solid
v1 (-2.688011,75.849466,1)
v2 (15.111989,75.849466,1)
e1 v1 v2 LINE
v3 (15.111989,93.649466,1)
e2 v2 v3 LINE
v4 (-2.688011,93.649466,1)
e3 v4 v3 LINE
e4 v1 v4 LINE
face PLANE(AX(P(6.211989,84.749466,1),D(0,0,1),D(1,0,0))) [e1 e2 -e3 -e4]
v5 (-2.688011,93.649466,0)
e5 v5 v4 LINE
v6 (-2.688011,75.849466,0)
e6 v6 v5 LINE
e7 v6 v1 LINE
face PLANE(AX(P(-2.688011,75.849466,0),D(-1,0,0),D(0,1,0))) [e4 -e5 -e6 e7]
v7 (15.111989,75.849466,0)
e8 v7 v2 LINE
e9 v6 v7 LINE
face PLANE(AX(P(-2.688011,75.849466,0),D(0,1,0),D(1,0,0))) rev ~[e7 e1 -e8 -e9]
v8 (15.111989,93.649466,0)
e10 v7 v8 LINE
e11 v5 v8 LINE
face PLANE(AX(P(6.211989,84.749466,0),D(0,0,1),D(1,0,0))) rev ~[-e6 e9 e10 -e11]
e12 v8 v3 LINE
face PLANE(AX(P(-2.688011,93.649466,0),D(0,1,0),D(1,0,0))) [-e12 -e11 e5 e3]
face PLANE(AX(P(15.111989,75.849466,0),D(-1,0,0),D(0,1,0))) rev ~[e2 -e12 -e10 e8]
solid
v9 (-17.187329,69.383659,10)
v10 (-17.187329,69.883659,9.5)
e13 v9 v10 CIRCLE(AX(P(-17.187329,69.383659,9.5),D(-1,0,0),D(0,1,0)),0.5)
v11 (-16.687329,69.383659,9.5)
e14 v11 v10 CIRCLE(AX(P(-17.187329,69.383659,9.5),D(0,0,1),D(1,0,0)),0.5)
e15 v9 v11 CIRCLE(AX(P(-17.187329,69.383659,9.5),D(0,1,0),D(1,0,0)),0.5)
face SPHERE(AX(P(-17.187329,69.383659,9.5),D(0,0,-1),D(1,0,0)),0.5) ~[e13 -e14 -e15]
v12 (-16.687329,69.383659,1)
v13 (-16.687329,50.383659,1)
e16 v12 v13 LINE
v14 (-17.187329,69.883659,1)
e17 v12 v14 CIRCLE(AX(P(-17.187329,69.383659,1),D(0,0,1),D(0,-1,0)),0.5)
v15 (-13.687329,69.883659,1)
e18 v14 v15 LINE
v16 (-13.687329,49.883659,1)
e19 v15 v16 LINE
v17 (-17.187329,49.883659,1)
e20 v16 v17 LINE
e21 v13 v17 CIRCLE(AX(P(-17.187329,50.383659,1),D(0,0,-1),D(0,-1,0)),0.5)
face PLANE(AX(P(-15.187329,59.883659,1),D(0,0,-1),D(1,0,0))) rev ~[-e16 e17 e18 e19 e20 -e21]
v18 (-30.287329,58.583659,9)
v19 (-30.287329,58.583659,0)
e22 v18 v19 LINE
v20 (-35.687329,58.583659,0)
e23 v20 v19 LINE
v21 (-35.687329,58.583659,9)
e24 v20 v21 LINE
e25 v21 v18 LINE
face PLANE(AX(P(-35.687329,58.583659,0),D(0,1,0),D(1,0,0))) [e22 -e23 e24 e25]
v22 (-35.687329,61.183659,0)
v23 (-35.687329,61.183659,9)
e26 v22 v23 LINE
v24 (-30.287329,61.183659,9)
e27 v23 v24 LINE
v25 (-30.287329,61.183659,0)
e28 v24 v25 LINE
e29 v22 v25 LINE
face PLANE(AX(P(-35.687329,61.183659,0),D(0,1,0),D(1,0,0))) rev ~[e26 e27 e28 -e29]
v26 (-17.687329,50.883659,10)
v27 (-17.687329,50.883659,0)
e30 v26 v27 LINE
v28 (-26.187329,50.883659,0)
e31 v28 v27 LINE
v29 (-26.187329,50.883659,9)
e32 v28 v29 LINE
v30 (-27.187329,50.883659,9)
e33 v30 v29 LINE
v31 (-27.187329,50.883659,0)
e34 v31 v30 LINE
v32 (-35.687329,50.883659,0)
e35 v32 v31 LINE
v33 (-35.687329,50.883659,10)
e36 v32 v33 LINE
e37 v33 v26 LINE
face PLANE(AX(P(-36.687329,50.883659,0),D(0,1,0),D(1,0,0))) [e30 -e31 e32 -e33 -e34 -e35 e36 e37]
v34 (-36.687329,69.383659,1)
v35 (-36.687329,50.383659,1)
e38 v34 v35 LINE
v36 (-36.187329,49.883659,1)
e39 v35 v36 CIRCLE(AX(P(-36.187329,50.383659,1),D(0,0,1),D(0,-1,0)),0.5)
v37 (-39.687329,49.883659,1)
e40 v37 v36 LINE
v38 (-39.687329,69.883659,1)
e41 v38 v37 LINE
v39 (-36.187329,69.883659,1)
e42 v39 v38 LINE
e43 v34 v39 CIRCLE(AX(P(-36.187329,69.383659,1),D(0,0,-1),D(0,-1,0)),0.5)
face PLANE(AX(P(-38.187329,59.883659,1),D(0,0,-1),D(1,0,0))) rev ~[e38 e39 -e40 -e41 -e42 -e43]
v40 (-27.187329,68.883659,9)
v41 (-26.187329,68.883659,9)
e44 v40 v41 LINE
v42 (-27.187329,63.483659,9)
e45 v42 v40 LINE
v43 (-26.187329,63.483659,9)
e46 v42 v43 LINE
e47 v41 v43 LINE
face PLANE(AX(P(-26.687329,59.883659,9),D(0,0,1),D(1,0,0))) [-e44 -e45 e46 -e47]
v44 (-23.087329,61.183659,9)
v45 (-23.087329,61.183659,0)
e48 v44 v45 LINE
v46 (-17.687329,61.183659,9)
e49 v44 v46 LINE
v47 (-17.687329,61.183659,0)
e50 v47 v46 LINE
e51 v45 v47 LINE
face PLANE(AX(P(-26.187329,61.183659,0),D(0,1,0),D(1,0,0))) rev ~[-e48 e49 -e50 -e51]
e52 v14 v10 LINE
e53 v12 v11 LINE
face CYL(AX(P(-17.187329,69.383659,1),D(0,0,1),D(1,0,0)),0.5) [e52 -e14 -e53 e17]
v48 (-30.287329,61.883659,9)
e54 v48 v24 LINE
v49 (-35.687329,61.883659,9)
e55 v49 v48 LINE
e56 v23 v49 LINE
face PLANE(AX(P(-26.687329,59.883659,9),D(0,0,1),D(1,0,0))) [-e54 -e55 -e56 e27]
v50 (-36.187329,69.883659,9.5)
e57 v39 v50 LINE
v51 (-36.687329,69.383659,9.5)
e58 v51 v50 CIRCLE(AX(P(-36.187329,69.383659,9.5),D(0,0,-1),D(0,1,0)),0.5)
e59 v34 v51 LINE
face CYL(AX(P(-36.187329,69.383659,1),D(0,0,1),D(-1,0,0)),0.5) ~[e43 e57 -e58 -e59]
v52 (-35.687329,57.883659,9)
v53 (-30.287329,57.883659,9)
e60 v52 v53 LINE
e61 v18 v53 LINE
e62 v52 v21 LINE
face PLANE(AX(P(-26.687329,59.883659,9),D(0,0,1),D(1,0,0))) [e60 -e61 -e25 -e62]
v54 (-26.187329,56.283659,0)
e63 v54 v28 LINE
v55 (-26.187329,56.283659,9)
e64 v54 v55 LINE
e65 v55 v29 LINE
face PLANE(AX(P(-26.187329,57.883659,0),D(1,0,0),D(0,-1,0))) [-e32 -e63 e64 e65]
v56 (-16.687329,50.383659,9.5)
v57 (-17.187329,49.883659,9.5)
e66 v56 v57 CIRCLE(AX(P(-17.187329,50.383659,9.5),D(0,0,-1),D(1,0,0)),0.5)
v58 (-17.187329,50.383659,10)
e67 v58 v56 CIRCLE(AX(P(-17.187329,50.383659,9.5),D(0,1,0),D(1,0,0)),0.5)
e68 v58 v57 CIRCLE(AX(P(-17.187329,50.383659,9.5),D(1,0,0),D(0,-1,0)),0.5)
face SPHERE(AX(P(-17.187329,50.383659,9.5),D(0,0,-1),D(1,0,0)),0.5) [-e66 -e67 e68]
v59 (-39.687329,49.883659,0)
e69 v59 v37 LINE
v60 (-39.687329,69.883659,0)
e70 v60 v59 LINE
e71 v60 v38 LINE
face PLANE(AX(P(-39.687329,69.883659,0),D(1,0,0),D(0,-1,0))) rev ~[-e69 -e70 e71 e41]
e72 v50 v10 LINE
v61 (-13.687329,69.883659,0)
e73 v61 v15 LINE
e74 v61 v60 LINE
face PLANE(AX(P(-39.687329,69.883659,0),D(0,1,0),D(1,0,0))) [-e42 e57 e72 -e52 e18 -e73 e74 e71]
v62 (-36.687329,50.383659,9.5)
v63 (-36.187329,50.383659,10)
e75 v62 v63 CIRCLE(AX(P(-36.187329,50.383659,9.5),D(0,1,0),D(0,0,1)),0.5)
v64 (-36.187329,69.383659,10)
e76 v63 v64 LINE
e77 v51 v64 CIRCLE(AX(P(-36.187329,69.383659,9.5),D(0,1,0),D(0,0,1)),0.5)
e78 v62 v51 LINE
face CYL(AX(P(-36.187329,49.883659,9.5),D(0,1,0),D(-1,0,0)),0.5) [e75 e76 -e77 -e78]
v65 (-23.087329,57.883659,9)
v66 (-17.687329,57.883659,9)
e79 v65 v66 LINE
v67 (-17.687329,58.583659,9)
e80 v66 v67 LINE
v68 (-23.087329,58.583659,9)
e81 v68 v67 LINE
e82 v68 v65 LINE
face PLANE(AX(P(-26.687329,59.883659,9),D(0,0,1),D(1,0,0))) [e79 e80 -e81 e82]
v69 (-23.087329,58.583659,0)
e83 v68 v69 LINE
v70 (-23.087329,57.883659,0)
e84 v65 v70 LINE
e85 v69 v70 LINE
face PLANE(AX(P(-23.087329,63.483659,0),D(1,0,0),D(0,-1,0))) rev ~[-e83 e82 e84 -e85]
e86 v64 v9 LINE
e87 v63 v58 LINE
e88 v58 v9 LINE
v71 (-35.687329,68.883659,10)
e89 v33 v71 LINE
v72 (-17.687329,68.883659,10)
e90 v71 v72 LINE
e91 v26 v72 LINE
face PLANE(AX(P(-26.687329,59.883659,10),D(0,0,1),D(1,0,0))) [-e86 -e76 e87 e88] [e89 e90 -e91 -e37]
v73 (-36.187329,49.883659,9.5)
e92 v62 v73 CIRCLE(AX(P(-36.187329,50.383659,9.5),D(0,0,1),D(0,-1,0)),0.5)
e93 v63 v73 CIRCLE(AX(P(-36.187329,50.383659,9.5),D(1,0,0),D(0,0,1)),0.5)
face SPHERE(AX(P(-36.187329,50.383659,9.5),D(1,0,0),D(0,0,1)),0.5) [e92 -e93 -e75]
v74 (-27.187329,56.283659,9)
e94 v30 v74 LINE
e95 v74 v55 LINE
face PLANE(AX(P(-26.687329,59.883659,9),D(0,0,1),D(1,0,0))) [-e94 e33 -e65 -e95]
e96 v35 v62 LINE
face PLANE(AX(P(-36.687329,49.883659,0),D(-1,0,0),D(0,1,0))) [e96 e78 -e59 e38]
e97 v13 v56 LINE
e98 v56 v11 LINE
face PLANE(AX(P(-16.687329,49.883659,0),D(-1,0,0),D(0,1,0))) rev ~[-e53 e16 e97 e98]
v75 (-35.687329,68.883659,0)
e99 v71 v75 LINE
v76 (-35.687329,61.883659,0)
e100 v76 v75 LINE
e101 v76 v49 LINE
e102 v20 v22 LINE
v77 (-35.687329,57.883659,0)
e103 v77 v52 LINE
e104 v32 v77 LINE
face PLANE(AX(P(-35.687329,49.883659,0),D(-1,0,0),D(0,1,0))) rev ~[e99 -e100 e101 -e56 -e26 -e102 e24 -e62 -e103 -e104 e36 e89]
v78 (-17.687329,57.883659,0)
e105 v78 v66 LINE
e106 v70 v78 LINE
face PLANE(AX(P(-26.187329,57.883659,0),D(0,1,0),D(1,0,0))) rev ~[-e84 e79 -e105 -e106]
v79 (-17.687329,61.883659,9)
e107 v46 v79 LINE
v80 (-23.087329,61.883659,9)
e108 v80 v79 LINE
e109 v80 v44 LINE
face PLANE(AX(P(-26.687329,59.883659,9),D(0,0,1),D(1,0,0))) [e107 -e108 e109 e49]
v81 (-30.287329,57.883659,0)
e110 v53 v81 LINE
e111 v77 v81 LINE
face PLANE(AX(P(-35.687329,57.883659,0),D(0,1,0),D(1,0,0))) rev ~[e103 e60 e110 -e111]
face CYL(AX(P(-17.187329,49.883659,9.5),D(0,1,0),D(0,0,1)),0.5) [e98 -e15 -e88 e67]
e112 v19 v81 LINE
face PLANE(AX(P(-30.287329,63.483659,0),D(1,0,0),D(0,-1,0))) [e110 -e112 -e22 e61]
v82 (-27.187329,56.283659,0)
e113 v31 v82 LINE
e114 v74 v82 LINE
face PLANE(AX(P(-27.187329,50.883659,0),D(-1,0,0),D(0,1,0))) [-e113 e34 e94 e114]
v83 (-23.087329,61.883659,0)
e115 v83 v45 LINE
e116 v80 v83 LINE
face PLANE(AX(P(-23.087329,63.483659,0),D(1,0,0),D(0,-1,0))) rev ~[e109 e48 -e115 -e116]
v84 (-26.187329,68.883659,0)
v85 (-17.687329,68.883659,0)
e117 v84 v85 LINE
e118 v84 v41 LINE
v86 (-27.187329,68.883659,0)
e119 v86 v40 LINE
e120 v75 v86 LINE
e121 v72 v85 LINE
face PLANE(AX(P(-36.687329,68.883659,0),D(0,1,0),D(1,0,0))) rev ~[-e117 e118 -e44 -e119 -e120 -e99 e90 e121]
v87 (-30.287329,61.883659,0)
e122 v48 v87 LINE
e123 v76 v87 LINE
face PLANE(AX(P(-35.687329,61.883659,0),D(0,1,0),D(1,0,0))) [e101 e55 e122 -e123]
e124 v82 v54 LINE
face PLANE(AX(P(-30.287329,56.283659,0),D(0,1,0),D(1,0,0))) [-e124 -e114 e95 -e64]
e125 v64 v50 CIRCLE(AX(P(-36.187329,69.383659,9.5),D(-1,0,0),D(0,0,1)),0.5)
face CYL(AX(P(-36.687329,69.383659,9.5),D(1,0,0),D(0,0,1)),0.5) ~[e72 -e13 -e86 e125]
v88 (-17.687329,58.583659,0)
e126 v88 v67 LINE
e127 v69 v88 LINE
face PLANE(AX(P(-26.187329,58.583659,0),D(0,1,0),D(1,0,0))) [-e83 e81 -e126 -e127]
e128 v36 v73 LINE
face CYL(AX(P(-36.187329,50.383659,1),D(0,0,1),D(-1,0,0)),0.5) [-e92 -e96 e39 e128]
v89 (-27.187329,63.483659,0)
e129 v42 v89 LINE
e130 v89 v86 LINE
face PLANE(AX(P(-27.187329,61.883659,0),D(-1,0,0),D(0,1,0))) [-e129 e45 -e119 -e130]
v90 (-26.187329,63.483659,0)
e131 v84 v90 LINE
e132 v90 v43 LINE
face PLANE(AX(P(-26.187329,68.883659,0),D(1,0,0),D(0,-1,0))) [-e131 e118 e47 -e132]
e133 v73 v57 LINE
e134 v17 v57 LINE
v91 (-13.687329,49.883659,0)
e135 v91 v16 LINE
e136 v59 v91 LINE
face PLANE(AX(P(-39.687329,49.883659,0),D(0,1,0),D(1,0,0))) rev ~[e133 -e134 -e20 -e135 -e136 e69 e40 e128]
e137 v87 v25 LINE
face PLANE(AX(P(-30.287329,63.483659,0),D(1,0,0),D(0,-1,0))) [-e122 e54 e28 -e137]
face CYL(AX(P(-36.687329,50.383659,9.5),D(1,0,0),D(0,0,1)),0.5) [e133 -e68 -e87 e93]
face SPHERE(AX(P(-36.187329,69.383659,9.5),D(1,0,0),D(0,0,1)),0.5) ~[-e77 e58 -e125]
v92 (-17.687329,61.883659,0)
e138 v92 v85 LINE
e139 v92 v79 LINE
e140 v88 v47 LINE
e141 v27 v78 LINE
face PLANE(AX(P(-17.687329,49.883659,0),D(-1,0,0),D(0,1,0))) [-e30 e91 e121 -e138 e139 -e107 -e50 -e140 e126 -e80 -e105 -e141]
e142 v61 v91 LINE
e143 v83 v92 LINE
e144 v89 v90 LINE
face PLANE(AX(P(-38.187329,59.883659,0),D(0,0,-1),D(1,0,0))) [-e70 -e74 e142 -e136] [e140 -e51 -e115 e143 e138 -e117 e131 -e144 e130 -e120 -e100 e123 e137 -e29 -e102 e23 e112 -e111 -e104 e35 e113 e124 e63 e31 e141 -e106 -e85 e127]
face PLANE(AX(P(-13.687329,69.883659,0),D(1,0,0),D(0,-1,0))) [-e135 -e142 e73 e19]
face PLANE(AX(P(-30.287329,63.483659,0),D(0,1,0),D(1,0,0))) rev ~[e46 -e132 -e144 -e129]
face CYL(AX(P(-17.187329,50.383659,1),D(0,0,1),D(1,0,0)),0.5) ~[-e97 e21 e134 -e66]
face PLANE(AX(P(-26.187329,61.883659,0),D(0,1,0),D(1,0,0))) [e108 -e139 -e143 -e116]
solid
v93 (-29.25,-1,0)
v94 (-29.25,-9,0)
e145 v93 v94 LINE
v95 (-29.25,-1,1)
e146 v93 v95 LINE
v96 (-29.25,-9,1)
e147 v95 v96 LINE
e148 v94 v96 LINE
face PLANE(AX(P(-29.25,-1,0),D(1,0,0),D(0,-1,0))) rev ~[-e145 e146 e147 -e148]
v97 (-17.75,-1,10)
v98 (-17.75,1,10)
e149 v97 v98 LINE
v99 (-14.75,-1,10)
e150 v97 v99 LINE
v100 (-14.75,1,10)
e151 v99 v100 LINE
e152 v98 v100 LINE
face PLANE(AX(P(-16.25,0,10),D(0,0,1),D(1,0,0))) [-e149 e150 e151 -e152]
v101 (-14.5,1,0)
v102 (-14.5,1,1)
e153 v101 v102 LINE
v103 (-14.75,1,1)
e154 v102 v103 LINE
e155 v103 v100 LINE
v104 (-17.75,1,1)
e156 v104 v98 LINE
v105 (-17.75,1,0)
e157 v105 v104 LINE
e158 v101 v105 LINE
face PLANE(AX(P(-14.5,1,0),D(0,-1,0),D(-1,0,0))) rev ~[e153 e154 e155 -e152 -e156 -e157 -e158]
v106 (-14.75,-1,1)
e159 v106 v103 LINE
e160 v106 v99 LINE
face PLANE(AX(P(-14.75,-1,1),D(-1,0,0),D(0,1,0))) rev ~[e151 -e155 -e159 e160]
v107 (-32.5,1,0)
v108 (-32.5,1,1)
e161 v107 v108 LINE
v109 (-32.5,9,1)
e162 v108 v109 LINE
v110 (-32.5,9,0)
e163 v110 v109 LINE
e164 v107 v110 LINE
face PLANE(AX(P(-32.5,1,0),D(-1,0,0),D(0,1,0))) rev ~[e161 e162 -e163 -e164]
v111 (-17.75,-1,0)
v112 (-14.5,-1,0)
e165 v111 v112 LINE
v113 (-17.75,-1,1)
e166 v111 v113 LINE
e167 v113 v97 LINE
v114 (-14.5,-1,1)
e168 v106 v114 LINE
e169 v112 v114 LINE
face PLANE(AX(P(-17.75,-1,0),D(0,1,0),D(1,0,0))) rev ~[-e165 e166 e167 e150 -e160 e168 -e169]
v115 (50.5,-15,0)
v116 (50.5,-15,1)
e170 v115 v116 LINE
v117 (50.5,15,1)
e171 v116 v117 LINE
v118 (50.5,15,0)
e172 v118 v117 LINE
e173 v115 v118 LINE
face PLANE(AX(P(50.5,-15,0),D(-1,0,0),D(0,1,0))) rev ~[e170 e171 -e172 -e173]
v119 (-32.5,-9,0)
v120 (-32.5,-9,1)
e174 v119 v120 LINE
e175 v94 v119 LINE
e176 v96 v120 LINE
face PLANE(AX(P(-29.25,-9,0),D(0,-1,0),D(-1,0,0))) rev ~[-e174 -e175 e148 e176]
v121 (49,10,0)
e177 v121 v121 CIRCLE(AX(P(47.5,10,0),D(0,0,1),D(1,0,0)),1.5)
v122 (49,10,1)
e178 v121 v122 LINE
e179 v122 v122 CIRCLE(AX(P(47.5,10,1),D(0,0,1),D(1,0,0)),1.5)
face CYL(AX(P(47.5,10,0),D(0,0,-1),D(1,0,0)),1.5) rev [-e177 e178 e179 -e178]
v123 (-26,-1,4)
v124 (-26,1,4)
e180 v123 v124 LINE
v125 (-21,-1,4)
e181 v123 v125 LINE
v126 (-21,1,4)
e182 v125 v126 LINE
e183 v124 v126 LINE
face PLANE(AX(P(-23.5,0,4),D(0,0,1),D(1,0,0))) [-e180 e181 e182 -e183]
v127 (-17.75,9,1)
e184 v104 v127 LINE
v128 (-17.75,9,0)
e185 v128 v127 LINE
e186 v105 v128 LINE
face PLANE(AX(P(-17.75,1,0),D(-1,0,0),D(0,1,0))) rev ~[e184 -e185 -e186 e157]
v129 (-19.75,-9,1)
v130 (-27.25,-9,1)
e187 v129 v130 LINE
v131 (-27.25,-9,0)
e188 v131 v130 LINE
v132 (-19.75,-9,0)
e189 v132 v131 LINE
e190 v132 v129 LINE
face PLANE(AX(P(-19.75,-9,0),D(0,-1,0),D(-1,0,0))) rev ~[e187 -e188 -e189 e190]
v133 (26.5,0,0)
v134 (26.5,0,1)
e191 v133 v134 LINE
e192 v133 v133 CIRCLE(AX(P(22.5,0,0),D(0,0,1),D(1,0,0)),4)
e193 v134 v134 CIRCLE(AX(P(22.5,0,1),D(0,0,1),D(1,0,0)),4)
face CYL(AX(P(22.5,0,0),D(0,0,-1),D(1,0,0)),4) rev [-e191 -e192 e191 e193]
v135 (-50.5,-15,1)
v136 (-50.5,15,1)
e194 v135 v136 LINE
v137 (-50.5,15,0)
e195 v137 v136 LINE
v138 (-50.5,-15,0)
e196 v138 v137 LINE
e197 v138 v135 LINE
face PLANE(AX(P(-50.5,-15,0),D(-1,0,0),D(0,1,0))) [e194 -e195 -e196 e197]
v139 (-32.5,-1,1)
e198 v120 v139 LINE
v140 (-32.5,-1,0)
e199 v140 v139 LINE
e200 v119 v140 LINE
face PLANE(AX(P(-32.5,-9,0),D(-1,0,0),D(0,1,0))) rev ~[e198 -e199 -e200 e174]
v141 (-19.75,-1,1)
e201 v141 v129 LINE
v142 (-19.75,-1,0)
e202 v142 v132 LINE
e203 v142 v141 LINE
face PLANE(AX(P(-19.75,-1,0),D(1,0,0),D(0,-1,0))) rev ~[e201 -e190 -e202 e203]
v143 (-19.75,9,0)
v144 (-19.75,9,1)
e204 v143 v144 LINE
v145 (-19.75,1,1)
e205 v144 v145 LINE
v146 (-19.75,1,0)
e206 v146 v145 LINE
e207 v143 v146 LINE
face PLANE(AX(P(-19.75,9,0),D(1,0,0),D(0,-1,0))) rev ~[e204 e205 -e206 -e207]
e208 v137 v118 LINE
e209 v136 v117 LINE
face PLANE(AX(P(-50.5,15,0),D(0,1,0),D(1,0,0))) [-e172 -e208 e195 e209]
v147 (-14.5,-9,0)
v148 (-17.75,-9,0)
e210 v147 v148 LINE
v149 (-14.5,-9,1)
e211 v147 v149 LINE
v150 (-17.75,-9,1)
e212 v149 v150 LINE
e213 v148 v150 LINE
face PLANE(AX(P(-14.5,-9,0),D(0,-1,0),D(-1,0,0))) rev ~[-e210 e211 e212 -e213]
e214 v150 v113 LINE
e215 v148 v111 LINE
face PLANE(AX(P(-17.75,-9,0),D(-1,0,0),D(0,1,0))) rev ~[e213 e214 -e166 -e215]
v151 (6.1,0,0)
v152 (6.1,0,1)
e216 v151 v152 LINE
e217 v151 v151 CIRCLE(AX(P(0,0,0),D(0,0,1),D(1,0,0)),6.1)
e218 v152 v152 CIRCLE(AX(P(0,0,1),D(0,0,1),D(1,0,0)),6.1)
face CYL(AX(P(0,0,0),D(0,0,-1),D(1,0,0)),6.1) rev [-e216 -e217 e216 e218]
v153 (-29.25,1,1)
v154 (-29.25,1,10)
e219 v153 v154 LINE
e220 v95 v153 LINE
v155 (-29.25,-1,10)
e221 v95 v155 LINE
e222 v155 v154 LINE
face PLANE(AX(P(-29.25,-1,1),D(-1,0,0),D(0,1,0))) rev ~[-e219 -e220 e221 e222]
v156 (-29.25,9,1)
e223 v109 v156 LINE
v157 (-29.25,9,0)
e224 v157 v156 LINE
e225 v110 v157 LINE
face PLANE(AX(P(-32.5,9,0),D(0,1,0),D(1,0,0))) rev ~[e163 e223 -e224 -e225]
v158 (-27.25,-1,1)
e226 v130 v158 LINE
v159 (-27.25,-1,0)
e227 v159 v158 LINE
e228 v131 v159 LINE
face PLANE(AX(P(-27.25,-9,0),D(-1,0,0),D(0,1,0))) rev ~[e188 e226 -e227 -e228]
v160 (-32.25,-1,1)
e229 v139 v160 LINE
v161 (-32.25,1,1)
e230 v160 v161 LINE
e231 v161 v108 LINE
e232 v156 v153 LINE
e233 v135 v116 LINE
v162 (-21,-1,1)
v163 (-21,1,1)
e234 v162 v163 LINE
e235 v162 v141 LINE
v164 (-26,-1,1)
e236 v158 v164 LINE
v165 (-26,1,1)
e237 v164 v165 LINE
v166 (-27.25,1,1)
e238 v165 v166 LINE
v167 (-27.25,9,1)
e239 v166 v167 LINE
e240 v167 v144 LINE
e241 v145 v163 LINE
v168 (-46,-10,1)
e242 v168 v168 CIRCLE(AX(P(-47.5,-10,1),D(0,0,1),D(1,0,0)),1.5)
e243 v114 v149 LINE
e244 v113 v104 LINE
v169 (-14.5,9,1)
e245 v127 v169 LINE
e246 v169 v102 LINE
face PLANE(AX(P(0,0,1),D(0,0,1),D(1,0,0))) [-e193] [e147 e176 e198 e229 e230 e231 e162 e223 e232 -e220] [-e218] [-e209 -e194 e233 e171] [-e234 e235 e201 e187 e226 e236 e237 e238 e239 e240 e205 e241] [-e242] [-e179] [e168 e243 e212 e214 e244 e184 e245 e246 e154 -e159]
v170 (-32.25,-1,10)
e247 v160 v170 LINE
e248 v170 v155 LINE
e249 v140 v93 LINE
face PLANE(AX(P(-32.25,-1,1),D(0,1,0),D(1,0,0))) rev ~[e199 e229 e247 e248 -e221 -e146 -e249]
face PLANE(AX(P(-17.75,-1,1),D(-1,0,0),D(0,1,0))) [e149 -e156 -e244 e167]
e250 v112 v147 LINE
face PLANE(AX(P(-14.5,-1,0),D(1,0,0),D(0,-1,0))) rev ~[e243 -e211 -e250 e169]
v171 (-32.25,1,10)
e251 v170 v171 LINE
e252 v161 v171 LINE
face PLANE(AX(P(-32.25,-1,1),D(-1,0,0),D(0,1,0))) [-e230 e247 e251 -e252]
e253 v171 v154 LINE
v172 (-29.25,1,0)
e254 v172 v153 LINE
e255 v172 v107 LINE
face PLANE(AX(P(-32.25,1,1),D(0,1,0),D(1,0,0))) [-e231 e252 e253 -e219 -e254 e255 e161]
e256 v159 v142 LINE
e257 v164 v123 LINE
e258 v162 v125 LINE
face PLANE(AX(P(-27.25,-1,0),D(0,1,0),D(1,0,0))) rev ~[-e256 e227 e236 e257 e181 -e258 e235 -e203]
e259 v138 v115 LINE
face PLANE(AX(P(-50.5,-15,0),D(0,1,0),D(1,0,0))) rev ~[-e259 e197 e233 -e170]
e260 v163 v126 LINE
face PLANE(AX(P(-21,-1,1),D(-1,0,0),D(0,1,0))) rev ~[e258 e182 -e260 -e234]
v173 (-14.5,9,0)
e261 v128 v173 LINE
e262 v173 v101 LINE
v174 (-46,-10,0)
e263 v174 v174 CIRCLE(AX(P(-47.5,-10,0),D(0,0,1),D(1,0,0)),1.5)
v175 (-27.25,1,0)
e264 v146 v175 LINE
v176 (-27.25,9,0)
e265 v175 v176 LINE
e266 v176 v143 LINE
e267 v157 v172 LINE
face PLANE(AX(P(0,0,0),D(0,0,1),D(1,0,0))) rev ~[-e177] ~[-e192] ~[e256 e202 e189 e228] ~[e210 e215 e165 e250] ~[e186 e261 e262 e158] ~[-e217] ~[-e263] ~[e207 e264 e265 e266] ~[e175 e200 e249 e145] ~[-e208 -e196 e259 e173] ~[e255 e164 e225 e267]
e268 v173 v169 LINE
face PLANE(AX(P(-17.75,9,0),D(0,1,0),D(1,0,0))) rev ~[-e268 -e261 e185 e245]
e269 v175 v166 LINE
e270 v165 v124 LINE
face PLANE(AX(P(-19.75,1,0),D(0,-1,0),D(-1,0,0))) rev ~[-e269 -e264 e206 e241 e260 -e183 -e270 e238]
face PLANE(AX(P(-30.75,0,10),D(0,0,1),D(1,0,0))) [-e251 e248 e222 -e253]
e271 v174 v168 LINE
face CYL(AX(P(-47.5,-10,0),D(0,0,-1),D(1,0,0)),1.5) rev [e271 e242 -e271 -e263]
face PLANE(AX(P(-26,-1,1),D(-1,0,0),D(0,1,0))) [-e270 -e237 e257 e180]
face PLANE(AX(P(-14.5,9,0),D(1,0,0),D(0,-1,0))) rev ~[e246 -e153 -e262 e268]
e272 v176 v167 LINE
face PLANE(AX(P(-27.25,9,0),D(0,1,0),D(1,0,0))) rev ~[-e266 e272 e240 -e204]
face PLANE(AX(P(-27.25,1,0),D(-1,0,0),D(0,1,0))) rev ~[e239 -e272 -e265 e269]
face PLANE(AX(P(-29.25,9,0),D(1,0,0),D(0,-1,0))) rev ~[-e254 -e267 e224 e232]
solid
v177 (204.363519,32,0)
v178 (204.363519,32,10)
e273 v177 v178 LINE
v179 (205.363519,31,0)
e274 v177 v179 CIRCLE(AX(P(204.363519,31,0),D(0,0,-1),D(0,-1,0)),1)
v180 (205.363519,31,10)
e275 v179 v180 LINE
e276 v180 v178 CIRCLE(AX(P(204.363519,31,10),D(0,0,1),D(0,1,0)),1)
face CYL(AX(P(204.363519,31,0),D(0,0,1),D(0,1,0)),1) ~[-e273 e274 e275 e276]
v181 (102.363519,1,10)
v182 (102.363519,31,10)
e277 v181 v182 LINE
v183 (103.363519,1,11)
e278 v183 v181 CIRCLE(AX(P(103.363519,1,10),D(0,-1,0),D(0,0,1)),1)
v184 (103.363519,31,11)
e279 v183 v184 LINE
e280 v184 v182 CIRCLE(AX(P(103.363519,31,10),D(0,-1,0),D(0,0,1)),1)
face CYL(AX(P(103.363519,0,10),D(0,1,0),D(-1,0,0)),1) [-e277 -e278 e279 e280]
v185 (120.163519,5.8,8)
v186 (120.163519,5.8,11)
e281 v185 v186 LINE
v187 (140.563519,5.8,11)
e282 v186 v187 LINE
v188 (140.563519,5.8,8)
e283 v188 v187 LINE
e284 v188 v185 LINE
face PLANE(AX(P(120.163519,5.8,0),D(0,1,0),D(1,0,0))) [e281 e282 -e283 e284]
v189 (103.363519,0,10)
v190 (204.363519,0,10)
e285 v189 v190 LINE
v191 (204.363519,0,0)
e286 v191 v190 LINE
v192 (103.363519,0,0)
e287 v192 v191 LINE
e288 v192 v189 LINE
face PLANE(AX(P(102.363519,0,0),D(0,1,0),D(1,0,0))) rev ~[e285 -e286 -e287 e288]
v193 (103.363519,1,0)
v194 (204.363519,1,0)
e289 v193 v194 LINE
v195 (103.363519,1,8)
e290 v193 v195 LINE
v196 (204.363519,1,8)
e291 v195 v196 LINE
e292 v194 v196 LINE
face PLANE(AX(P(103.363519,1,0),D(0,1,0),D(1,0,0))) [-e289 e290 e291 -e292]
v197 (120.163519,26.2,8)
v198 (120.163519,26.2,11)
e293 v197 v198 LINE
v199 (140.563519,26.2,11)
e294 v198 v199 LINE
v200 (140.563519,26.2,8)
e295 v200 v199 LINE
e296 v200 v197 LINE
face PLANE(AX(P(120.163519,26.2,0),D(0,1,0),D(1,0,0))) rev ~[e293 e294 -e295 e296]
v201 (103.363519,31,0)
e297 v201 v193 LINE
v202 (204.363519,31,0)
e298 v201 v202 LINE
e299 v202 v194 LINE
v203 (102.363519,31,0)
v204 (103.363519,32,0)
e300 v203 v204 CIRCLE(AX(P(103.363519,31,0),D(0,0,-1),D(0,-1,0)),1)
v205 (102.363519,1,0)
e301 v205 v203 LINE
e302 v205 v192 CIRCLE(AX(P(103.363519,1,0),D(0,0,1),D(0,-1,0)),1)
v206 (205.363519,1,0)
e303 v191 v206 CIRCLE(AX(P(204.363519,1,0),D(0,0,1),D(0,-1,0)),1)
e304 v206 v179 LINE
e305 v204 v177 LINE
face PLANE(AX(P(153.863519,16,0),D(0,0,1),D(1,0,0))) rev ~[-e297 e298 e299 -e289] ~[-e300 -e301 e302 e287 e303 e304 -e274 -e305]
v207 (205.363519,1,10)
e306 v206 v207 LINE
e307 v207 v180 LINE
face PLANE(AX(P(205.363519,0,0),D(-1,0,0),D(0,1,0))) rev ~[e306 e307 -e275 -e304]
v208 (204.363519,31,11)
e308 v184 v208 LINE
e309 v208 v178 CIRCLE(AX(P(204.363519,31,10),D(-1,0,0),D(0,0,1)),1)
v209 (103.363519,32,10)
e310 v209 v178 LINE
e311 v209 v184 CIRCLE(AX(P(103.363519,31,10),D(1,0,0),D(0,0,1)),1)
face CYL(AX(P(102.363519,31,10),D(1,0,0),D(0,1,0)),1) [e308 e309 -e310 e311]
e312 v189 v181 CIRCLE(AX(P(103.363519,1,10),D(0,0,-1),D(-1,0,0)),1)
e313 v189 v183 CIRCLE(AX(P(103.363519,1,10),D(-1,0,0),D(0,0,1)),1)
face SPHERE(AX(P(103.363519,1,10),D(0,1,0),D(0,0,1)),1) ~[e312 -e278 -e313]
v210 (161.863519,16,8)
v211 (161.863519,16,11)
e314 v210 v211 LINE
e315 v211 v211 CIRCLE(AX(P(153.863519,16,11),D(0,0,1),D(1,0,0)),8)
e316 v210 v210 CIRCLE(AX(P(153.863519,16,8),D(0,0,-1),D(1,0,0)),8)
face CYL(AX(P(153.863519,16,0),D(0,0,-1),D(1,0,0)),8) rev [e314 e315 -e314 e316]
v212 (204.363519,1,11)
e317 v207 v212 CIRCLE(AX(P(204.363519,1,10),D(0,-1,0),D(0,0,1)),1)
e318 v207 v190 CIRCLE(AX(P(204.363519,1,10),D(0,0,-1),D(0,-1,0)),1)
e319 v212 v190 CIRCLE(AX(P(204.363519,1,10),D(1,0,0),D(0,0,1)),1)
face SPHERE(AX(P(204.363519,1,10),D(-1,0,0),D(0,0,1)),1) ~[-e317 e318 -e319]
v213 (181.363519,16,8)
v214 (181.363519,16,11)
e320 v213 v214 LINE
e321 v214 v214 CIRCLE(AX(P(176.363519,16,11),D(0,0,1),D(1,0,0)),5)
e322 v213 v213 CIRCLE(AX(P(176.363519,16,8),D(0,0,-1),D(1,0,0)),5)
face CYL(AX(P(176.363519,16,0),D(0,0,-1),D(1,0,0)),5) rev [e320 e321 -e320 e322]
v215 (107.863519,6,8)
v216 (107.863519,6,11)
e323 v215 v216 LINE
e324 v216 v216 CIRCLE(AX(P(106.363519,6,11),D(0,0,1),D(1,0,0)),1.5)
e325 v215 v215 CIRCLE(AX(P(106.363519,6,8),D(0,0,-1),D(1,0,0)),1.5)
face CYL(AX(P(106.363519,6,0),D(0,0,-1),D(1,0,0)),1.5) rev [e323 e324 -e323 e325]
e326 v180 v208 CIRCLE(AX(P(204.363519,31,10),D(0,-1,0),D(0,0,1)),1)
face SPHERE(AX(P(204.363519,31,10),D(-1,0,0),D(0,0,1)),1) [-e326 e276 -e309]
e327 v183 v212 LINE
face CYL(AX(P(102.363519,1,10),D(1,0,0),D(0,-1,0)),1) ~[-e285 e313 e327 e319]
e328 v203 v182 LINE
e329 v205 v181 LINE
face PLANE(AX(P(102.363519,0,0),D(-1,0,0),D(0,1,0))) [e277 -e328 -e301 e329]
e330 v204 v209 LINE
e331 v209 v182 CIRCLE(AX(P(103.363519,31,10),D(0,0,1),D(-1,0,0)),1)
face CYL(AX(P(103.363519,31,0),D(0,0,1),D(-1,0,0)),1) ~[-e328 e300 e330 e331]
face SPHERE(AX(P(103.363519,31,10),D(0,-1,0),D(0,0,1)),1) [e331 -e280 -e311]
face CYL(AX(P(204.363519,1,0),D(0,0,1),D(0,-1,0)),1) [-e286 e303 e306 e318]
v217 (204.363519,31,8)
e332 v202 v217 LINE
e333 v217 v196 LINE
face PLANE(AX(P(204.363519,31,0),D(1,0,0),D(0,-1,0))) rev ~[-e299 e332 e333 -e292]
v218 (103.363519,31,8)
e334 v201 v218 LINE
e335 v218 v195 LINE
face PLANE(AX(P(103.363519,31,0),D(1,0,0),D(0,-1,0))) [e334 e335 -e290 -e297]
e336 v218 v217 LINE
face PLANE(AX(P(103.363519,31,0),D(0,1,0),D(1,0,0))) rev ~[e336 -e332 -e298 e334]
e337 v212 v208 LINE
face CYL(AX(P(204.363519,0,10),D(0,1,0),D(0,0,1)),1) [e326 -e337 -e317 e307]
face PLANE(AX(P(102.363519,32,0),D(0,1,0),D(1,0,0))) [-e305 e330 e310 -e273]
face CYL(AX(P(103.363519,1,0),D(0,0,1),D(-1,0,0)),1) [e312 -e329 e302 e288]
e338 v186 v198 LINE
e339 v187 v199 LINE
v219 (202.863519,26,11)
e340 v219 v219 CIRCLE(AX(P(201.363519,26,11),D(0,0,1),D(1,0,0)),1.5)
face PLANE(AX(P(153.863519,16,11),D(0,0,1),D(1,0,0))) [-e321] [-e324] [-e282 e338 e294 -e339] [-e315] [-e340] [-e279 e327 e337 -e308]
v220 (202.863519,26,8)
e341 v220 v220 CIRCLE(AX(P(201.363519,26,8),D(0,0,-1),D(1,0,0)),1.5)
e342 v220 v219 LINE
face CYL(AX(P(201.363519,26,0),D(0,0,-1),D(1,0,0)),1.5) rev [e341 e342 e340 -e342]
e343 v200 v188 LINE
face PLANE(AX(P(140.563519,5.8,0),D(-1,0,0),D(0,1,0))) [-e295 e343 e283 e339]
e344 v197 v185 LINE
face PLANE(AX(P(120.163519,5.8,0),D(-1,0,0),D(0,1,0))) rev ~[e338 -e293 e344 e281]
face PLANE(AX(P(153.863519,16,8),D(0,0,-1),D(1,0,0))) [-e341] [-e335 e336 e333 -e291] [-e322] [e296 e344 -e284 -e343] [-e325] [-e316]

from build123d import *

# Parameters (mm, degrees)
F0_W      = 101
F0_H      = 30
F0_R      = 1.5
F0_R_2    = 6.1
F0_R_3    = 4
F1_DEPTH  = 1
F2_W      = 3
F2_H      = 2
F3_DEPTH  = 9
F4_W      = 20
F4_H      = 20
F5_DEPTH  = 10
F6_T      = -1
F7_W      = 8.5
F7_H      = 0.7
F8_DEPTH  = 9
F9_W      = 7.2
F9_H      = 7.2
F10_DEPTH = 9
F11_W     = 3
F11_H     = 20
F12_DEPTH = 1
F13_W     = 18
F13_H     = 18
F14_DEPTH = 1
F15_R     = 0.5
F4_W_2    = 17.8
F4_H_2    = 17.8
F16_DEPTH = 1
F17_W     = 5
F17_H     = 2
F18_DEPTH = 3
F19_W     = 103
F19_H     = 32
F19_R     = 1.5
F19_W_2   = 20.4
F19_H_2   = 20.4
F19_R_2   = 8
F19_R_3   = 5
F20_DEPTH = 11
F21_W     = 101
F21_H     = 30
F22_DEPTH = 8
F23_R     = 1


with BuildPart() as f1:
    # F0 (on Top) → F1 (new body)
    with BuildSketch(Plane.XY):
        Rectangle(F0_W, F0_H)
        with Locations((-47.5, -10)):
            Circle(F0_R, mode=Mode.SUBTRACT)
        Polygon((-32.5, 1), (-32.5, 9), (-29.25, 9), (-27.25, 9), (-19.75, 9), (-17.75, 9), (-14.5, 9), (-14.5, 1), (-14.5, -1), (-14.5, -9), (-17.75, -9), (-19.75, -9), (-27.25, -9), (-29.25, -9), (-32.5, -9), (-32.5, -1), align=None, mode=Mode.SUBTRACT)
        Circle(F0_R_2, mode=Mode.SUBTRACT)
        with Locations((22.5, 0)):
            Circle(F0_R_3, mode=Mode.SUBTRACT)
        with Locations((47.5, 10)):
            Circle(F0_R, mode=Mode.SUBTRACT)
        Polygon((-27.25, 9), (-29.25, 9), (-29.25, 1), (-32.5, 1), (-32.5, -1), (-29.25, -1), (-29.25, -9), (-27.25, -9), (-27.25, -1), (-19.75, -1), (-19.75, -9), (-17.75, -9), (-17.75, -1), (-14.5, -1), (-14.5, 1), (-17.75, 1), (-17.75, 9), (-19.75, 9), (-19.75, 1), (-27.25, 1), align=None)
    extrude(amount=F1_DEPTH)

    # F2 (on face) → F3 (join)
    with BuildSketch(Plane.XY.offset(1)):
        with Locations((-30.75, 0)):
            Rectangle(F2_W, F2_H)
        with Locations((-16.25, 0)):
            Rectangle(F2_W, F2_H)
    extrude(amount=F3_DEPTH)

    # F17 (on face) → F18 (join)
    with BuildSketch(Plane.XY.offset(1)):
        with Locations((-23.5, 0)):
            Rectangle(F17_W, F17_H)
    extrude(amount=F18_DEPTH)


with BuildPart() as f5:
    # F4 (on Top) → F5 (new body)
    with BuildSketch(Plane.XY):
        with Locations((-26.687329, 59.883659)):
            Rectangle(F4_W, F4_H)
    extrude(amount=F5_DEPTH)

    # F6
    f6_openings = [f5.faces().sort_by_distance(p)[0] for p in [
        (-26.687329, 59.883659, 0),
    ]]
    offset(amount=F6_T, openings=f6_openings)

    # F7 (on face) → F8 (join)
    with BuildSketch(Plane(origin=(0, 0, 0), x_dir=(1, 0, 0), z_dir=(0, 0, -1))):
        with Locations((-31.437329, -58.233659)):
            Rectangle(F7_W, F7_H)
        Polygon((-27.187329, -50.883659), (-27.187329, -57.883659), (-27.187329, -58.583659), (-27.187329, -61.183659), (-27.187329, -61.883659), (-27.187329, -68.883659), (-26.187329, -68.883659), (-26.187329, -61.883659), (-26.187329, -61.183659), (-26.187329, -58.583659), (-26.187329, -57.883659), (-26.187329, -50.883659), align=None)
        with Locations((-31.437329, -61.533659)):
            Rectangle(F7_W, F7_H)
        with Locations((-21.937329, -58.233659)):
            Rectangle(F7_W, F7_H)
        with Locations((-21.937329, -61.533659)):
            Rectangle(F7_W, F7_H)
    extrude(amount=-F8_DEPTH)

    # F9 (on face) → F10 (cut)
    with BuildSketch(Plane(origin=(0, 0, 0), x_dir=(1, 0, 0), z_dir=(0, 0, -1))):
        with Locations((-26.687329, -59.883659)):
            Rectangle(F9_W, F9_H)
    extrude(amount=-F10_DEPTH, mode=Mode.SUBTRACT)

    # F11 (on face) → F12 (join)
    with BuildSketch(Plane(origin=(0, 0, 0), x_dir=(1, 0, 0), z_dir=(0, 0, -1))):
        with Locations((-38.187329, -59.883659)):
            Rectangle(F11_W, F11_H)
        with Locations((-15.187329, -59.883659)):
            Rectangle(F11_W, F11_H)
    extrude(amount=-F12_DEPTH)

    # F13 (on face) → F14 (cut)
    with BuildSketch(Plane.XY.offset(10)):
        with Locations((-26.687329, 59.883659)):
            Rectangle(F13_W, F13_H)
    extrude(amount=-F14_DEPTH, mode=Mode.SUBTRACT)

    # F15
    f15_edges = [f5.edges().sort_by_distance(p)[0] for p in [
        (-16.687329, 49.883659, 5.5),
        (-16.687329, 69.883659, 5.5),
        (-16.687329, 59.883659, 10),
        (-26.687329, 69.883659, 10),
        (-26.687329, 49.883659, 10),
        (-36.687329, 59.883659, 10),
        (-36.687329, 49.883659, 5.5),
        (-36.687329, 69.883659, 5.5),
    ]]
    fillet(f15_edges, radius=F15_R)


with BuildPart() as f16:
    # F4 (on Top) → F16 (new body)
    with BuildSketch(Plane.XY):
        with Locations((6.211989, 84.749466)):
            Rectangle(F4_W_2, F4_H_2)
    extrude(amount=F16_DEPTH)


with BuildPart() as f20:
    # F19 (on Top) → F20 (new body)
    with BuildSketch(Plane.XY):
        with Locations((153.863519, 16)):
            Rectangle(F19_W, F19_H)
        with Locations((106.363519, 6)):
            Circle(F19_R, mode=Mode.SUBTRACT)
        with Locations((130.363519, 16)):
            Rectangle(F19_W_2, F19_H_2, mode=Mode.SUBTRACT)
        with Locations((153.863519, 16)):
            Circle(F19_R_2, mode=Mode.SUBTRACT)
        with Locations((176.363519, 16)):
            Circle(F19_R_3, mode=Mode.SUBTRACT)
        with Locations((201.363519, 26)):
            Circle(F19_R, mode=Mode.SUBTRACT)
    extrude(amount=F20_DEPTH)

    # F21 (on face) → F22 (cut)
    with BuildSketch(Plane(origin=(0, 0, 0), x_dir=(1, 0, 0), z_dir=(0, 0, -1))):
        with Locations((153.863519, -16)):
            Rectangle(F21_W, F21_H)
    extrude(amount=-F22_DEPTH, mode=Mode.SUBTRACT)

    # F23
    f23_edges = [f20.edges().sort_by_distance(p)[0] for p in [
        (102.363519, 16, 11),
        (153.863519, 32, 11),
        (153.863519, 0, 11),
        (205.363519, 16, 11),
        (205.363519, 32, 5.5),
        (205.363519, 0, 5.5),
        (102.363519, 32, 5.5),
        (102.363519, 0, 5.5),
    ]]
    fillet(f23_edges, radius=F23_R)


solid = Compound([f1.part, f5.part, f16.part, f20.part])
